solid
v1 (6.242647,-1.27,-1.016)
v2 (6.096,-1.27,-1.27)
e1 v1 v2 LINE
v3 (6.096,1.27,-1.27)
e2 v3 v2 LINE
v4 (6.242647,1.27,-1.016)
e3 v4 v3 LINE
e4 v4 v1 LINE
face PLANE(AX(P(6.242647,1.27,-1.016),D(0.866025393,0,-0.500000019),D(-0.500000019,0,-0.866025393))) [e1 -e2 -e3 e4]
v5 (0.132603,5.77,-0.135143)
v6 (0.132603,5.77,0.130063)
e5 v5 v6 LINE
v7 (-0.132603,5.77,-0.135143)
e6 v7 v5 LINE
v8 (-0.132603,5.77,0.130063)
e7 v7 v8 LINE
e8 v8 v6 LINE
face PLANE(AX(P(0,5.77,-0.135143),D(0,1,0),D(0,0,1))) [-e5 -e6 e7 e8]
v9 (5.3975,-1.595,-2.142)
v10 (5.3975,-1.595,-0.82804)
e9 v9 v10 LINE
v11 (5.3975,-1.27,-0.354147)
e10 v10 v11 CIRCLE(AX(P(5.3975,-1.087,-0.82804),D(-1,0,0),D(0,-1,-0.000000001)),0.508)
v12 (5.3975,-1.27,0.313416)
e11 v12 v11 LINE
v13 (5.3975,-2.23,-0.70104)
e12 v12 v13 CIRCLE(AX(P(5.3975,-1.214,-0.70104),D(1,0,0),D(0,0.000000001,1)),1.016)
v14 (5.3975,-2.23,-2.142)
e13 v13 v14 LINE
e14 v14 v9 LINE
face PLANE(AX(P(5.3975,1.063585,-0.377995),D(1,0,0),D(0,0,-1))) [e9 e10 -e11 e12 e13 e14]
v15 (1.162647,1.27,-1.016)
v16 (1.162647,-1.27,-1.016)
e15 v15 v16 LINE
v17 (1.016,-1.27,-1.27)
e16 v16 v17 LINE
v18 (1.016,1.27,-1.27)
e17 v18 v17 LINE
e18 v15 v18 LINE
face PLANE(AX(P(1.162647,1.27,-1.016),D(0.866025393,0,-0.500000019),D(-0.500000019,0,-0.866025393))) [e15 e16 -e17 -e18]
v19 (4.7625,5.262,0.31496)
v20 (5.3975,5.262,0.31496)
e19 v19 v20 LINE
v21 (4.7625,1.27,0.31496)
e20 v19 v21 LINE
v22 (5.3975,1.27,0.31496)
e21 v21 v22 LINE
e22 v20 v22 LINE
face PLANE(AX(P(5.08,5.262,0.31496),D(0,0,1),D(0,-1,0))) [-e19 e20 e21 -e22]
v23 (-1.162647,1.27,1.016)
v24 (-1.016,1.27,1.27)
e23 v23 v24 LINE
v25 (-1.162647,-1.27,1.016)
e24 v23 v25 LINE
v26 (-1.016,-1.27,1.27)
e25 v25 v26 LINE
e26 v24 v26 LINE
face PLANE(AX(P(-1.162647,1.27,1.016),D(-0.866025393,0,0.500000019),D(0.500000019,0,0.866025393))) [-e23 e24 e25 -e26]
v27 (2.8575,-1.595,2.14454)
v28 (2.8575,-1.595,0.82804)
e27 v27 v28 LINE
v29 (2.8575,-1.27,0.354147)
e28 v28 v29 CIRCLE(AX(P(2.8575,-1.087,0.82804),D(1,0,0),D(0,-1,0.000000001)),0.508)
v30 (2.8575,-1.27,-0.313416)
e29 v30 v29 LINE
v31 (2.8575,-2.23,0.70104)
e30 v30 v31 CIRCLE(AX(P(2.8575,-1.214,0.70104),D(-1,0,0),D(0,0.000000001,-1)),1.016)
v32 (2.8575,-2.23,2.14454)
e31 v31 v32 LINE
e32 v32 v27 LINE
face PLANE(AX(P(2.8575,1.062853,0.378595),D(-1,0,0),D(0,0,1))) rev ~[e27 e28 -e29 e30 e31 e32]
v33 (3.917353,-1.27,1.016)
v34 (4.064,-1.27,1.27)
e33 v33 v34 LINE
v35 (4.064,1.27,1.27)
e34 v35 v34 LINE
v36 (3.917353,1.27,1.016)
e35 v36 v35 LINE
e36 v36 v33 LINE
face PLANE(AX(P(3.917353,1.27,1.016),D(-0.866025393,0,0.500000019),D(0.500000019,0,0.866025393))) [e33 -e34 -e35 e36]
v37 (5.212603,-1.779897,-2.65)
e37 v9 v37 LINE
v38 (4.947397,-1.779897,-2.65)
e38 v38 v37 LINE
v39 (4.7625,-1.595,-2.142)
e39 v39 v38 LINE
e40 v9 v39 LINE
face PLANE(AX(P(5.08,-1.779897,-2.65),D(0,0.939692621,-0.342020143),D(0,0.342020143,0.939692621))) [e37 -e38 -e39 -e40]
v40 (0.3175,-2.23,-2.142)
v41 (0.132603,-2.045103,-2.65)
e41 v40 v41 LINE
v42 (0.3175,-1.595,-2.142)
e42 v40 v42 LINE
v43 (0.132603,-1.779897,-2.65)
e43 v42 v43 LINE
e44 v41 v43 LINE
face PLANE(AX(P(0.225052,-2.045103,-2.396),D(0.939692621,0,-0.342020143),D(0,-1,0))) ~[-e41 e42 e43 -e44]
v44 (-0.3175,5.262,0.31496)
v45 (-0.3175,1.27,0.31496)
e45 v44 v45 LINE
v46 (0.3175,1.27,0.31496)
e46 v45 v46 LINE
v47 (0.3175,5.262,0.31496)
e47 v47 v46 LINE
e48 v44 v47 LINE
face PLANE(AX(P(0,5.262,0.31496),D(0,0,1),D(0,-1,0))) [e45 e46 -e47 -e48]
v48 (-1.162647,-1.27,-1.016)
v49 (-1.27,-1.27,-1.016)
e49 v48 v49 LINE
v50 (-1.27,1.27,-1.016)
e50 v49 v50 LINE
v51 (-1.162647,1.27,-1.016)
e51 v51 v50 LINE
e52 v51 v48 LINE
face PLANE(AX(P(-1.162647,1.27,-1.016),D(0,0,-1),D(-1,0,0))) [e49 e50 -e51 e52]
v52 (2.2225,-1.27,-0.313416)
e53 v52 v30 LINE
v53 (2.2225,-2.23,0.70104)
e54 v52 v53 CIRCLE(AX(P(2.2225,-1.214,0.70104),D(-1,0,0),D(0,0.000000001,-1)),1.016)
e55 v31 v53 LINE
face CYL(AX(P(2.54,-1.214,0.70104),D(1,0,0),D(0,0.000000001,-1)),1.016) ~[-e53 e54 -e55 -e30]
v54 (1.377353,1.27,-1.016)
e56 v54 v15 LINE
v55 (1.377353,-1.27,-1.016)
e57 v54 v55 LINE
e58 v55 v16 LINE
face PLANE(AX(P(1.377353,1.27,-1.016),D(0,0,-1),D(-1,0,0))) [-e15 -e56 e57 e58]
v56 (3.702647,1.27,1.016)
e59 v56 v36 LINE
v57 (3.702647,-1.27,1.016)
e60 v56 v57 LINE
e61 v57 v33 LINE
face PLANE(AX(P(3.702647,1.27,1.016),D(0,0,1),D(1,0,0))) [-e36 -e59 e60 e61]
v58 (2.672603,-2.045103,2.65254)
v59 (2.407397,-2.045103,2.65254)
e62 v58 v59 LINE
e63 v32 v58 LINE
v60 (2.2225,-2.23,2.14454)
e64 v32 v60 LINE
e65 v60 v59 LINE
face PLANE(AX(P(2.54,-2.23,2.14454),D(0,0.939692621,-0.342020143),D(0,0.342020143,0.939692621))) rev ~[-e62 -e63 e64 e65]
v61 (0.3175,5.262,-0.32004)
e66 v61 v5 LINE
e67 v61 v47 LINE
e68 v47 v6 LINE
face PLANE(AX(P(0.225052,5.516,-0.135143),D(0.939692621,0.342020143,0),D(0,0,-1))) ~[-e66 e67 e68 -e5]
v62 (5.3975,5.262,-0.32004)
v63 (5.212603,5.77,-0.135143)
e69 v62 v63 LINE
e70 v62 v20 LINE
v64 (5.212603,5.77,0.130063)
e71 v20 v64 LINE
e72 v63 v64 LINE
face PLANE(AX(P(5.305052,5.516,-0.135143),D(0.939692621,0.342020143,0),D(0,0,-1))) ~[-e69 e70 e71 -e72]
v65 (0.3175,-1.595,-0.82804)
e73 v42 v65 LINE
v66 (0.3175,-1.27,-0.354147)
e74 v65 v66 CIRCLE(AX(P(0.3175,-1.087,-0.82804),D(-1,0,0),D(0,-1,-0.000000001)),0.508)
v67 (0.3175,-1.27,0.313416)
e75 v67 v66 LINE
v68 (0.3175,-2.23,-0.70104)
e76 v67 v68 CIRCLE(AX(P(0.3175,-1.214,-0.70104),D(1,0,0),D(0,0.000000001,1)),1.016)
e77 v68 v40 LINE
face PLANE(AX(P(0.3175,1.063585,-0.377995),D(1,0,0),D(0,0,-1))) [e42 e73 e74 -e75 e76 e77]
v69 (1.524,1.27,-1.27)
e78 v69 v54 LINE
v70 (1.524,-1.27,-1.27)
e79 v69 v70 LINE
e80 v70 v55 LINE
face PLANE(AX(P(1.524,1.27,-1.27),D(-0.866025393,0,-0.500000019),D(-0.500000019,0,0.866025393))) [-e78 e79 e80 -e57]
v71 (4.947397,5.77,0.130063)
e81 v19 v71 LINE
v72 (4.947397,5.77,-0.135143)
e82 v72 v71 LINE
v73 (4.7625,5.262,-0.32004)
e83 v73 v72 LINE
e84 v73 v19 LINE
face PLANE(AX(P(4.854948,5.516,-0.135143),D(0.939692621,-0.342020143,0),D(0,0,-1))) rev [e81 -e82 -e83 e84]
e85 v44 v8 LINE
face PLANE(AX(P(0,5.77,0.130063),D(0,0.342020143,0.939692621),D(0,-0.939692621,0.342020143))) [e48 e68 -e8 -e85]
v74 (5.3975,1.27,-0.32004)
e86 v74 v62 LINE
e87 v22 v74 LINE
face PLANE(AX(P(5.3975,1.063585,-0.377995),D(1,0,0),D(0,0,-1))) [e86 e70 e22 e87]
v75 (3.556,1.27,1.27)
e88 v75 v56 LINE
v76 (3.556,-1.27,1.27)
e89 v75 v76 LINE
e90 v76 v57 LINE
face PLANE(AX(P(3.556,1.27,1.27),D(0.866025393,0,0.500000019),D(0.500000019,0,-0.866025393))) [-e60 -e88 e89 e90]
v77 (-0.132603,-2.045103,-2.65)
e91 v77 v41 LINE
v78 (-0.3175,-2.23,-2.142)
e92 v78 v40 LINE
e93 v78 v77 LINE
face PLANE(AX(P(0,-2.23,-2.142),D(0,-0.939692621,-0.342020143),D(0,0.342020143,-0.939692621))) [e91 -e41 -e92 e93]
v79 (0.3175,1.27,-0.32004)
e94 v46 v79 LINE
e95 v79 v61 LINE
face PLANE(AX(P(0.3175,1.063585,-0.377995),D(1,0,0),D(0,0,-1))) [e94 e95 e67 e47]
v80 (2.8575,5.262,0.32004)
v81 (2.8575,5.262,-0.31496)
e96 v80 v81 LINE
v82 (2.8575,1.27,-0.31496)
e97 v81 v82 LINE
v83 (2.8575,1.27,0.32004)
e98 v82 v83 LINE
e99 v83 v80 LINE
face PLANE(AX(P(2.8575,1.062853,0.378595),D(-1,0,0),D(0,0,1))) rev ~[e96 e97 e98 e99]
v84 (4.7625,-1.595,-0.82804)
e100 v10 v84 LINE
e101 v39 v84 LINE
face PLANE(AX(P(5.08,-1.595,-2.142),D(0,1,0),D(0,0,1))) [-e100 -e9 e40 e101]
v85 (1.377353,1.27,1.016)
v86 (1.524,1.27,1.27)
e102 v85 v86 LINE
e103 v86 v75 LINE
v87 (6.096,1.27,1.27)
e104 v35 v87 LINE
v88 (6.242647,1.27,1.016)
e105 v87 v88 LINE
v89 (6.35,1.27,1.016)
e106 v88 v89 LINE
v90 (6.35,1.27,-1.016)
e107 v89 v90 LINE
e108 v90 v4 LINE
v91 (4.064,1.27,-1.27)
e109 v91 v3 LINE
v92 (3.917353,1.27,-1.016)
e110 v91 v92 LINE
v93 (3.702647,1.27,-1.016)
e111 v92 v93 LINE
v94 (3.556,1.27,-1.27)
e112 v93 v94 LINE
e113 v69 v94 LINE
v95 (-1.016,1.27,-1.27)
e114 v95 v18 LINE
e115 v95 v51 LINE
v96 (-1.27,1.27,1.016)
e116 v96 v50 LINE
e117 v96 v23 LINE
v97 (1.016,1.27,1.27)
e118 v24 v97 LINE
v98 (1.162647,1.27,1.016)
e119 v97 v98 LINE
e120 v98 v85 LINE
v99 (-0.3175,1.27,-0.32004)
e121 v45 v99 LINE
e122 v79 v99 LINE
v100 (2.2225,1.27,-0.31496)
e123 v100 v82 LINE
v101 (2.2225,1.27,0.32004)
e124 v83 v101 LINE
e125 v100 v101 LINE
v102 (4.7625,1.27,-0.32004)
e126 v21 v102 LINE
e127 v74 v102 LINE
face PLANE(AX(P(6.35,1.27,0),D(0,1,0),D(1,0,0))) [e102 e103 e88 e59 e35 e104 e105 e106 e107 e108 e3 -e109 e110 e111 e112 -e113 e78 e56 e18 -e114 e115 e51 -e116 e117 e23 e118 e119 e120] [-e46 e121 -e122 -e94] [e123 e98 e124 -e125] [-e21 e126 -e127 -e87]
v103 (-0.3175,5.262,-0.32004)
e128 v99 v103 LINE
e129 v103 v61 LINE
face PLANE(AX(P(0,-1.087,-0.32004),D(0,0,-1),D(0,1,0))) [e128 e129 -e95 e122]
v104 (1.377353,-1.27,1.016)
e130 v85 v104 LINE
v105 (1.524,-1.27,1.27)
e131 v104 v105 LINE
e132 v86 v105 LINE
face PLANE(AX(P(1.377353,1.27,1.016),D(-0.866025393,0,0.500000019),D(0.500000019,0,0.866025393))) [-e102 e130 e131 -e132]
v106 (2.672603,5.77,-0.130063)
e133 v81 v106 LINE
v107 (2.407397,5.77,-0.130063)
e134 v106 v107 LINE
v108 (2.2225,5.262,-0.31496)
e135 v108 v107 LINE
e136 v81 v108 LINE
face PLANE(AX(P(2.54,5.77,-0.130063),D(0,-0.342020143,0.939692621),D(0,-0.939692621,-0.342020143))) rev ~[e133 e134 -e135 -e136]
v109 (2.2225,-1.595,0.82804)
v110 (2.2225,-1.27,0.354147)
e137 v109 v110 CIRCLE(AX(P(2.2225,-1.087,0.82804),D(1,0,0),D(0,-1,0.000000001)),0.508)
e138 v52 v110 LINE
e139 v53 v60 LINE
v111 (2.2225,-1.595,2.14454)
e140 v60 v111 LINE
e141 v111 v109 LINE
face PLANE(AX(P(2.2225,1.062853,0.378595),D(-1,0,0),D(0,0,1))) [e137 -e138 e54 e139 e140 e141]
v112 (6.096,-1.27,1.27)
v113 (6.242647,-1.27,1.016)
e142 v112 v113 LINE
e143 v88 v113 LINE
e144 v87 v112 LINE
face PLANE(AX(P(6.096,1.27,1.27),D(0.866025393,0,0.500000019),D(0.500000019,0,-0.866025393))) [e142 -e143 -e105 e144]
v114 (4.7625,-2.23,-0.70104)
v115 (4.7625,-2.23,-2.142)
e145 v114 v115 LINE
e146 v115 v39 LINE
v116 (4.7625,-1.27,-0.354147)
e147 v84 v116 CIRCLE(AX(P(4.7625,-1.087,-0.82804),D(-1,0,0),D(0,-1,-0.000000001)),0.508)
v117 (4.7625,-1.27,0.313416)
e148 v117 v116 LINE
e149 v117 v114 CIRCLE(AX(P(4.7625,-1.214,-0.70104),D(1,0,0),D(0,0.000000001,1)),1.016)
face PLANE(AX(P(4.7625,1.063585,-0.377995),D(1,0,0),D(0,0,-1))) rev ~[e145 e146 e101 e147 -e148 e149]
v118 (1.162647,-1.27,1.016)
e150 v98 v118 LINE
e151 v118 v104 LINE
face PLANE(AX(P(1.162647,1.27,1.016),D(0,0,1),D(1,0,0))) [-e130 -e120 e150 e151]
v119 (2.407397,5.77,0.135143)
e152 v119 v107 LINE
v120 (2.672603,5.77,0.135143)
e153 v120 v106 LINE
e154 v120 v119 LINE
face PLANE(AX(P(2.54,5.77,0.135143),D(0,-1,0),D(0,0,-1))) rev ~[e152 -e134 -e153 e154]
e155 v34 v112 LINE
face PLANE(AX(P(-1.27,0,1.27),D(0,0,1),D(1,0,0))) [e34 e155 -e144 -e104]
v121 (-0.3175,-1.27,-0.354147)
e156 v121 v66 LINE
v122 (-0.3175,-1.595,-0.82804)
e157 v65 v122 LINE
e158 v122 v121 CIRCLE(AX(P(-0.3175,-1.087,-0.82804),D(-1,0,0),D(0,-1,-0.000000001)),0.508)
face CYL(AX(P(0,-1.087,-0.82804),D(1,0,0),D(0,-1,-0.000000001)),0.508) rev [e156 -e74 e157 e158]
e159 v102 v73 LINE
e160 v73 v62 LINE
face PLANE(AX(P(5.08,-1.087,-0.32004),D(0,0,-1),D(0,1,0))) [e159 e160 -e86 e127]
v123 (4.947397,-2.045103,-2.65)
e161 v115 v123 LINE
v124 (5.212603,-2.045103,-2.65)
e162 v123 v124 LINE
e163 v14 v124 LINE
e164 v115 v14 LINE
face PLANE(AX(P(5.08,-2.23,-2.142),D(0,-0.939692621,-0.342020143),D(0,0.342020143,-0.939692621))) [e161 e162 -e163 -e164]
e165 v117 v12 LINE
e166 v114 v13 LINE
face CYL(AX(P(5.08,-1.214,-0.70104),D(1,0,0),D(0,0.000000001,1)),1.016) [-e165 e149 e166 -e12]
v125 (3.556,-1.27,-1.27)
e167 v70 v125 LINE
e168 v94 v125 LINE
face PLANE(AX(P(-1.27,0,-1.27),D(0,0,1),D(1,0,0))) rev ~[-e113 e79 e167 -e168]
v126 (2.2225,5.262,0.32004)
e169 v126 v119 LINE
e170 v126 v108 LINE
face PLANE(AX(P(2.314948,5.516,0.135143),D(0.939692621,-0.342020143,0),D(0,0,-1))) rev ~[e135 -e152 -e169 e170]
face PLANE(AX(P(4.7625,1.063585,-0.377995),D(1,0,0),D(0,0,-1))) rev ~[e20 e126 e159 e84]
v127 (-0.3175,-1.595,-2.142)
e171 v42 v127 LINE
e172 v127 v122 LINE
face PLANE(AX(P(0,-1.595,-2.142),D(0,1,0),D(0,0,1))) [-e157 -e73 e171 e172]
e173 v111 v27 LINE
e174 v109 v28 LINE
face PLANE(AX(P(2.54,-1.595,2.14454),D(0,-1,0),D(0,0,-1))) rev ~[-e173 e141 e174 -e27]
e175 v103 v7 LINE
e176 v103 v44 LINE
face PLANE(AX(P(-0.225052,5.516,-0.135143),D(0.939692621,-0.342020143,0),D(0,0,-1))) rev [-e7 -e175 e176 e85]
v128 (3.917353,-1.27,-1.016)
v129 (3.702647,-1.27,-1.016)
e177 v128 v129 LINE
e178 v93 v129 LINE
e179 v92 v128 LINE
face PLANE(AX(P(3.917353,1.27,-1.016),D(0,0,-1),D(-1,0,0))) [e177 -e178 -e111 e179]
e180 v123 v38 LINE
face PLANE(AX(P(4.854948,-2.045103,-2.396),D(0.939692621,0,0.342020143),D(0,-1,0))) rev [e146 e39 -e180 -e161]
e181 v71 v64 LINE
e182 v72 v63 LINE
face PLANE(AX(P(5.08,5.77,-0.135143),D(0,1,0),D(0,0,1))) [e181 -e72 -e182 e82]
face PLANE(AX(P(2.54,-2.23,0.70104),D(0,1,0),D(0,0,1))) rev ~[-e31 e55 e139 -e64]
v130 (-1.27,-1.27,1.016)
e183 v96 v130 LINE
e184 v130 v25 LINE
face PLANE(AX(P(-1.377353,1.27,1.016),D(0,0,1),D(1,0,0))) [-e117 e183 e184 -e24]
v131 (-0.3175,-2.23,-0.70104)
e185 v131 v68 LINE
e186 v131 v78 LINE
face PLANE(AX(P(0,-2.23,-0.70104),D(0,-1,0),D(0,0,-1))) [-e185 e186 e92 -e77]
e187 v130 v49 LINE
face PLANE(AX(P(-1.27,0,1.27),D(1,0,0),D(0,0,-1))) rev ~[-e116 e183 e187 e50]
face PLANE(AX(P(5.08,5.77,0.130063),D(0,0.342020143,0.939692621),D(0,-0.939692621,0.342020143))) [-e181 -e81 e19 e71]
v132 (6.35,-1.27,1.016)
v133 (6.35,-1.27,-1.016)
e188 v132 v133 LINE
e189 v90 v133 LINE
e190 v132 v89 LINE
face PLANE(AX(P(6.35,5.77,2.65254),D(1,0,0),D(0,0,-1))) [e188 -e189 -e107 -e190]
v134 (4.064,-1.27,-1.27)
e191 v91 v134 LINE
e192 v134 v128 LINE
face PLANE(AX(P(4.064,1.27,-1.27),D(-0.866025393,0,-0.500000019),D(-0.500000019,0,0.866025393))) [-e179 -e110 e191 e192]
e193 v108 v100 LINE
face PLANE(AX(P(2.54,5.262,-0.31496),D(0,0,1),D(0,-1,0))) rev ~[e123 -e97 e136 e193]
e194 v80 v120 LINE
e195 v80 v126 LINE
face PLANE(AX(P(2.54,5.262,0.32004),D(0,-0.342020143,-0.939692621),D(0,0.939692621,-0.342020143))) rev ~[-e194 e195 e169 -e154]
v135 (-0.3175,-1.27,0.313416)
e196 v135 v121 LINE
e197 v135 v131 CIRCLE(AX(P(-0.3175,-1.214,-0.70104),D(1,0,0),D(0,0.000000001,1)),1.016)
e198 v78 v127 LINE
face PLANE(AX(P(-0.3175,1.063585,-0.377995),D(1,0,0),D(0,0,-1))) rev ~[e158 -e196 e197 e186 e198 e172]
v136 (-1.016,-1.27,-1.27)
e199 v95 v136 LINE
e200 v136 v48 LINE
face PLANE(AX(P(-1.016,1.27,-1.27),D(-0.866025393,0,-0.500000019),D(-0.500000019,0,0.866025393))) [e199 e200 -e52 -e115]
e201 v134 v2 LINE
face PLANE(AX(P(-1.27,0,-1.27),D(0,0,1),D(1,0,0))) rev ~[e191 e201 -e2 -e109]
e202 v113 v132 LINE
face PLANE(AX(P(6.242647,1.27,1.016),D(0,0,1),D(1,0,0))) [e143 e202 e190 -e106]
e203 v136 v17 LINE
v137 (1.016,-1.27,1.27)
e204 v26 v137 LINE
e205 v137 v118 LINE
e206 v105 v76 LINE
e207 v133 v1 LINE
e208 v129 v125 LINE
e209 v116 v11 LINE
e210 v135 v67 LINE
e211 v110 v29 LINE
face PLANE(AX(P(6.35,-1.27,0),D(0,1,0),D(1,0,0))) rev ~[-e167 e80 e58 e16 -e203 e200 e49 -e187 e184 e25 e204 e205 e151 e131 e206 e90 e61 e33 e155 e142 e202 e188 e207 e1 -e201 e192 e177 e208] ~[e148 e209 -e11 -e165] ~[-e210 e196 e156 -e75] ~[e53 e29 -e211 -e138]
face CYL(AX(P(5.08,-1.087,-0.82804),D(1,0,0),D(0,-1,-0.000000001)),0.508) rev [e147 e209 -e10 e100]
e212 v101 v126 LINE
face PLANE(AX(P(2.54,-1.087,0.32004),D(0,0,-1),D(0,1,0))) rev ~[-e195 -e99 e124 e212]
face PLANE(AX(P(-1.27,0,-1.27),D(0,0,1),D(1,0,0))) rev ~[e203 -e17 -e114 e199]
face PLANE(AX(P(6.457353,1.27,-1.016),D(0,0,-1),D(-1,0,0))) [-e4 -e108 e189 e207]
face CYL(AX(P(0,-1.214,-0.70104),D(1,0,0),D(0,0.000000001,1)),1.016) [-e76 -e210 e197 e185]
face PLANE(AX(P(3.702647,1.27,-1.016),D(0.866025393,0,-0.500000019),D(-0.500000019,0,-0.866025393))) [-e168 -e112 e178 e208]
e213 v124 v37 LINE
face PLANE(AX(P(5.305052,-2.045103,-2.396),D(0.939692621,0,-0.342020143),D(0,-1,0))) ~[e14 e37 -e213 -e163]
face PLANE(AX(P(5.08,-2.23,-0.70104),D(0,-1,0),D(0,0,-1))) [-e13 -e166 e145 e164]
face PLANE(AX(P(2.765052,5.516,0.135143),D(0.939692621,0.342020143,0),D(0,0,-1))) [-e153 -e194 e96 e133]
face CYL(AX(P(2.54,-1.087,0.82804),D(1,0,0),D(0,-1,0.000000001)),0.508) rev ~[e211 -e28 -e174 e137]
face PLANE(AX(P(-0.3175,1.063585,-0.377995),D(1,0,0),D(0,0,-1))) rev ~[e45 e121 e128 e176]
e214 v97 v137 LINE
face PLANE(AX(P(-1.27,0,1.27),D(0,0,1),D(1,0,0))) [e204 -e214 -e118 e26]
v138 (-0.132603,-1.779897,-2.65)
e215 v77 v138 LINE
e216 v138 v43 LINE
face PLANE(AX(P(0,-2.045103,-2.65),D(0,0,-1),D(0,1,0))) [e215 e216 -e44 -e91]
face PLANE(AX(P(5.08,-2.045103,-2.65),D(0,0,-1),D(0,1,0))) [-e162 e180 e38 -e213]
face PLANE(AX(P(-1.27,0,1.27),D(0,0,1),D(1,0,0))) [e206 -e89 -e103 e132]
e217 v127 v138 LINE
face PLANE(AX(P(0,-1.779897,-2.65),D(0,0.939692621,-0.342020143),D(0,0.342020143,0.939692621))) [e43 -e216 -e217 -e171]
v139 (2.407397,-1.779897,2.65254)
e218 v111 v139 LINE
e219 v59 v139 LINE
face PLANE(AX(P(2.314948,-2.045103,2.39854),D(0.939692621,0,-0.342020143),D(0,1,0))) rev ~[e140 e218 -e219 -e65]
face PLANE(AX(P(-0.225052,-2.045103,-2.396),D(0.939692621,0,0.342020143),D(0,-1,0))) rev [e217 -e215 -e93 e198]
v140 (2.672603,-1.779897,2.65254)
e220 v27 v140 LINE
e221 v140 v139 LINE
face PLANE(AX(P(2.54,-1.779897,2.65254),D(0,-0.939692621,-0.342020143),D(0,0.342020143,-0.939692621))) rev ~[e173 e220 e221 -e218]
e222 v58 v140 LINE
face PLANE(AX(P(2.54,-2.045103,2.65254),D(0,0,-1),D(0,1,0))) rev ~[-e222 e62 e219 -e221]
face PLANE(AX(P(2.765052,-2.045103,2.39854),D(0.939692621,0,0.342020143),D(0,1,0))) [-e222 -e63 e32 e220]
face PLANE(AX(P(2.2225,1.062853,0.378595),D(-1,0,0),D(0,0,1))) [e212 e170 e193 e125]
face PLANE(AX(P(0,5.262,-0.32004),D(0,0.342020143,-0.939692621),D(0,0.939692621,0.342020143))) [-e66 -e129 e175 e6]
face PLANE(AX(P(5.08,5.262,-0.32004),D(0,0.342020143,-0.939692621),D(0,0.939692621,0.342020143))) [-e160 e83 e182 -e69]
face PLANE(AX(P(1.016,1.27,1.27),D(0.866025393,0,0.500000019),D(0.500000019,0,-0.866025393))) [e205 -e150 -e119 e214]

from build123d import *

# Parameters (mm, degrees)
SKETCH1_W                            = 15.24
SKETCH1_H                            = 2.54
BASE_EXTRUDE_DEPTH                   = 1.27
PIN_DEPTH                            = 0.3175
PIN_CHAMFER_SIZE2                    = 0.184896879
PIN_CHAMFER_SIZE                     = 0.508
PIN_PATTERN_COUNT                    = 3
PIN_PATTERN_PITCH                    = 5.08
PIN_CHAMFER_OF_PIN_PATTERN_SIZE2     = 0.184896879
PIN_CHAMFER_OF_PIN_PATTERN_SIZE      = 0.508
PIN_2_DEPTH                          = 0.3175
PIN_2_CHAMFER_SIZE2                  = 0.184896879
PIN_2_CHAMFER_SIZE                   = 0.508
PIN_2_PATTERN_COUNT                  = 3
PIN_2_PATTERN_PITCH                  = 5.08
PIN_2_CHAMFER_OF_PIN_2_PATTERN_SIZE2 = 0.184896879
PIN_2_CHAMFER_OF_PIN_2_PATTERN_SIZE  = 0.508
SV_CUT_DEPTH                         = 4.5
SV_CUT_PATTERN_COUNT                 = 5
SV_CUT_PATTERN_PITCH                 = 2.54
LPATTERN1_COUNT                      = 3
LPATTERN1_PITCH                      = 2.54
SKETCH16_W                           = 7.62
SKETCH16_H                           = 5.30254
CUT_EXTRUDE1_DEPTH                   = 9


with BuildPart() as part:
    # Sketch1 → Base Extrude (new body, symmetric)
    with BuildSketch(Plane(origin=(0, 0, 0), x_dir=(1, 0, 0), z_dir=(0, 1, 0))):
        with Locations((6.35, 0)):
            Rectangle(SKETCH1_W, SKETCH1_H)
    extrude(amount=BASE_EXTRUDE_DEPTH, both=True)

    # Sketch8 → Pin (add, symmetric)
    with BuildSketch(Plane(origin=(0, 0, 0), x_dir=(0, 0, -1), z_dir=(1, 0, 0))):
        with BuildLine():
            Line((0.32004, -1.087), (0.32004, 5.262))
            Line((0.32004, 5.262), (0.135143121, 5.77))
            Line((0.135143121, 5.77), (-0.130063121, 5.77))
            Line((-0.130063121, 5.77), (-0.31496, 5.262))
            Line((-0.31496, 5.262), (-0.31496, -1.214))
            ThreePointArc((-0.31496, -1.214), (-0.01738049, -1.93242049), (0.70104, -2.23))
            Line((0.70104, -2.23), (2.142, -2.23))
            Line((2.142, -2.23), (2.65, -2.045103121))
            Line((2.65, -2.045103121), (2.65, -1.779896879))
            Line((2.65, -1.779896879), (2.142, -1.595))
            Line((2.142, -1.595), (0.82804, -1.595))
            ThreePointArc((0.82804, -1.595), (0.468829755, -1.446210245), (0.32004, -1.087))
        make_face()
    pin = extrude(amount=PIN_DEPTH, both=True)

    # Pin Chamfer
    pin_chamfer_edges = [part.edges().sort_by_distance(p)[0] for p in [
        (0.3175, -1.9125, -2.65),
        (-0.3175, 5.77, -0.00254),
        (-0.3175, -1.9125, -2.65),
        (0.3175, 5.77, -0.00254),
    ]]
    chamfer(pin_chamfer_edges, length=PIN_CHAMFER_SIZE, length2=PIN_CHAMFER_SIZE2)

    # Pin Pattern: Pin ×3
    with Locations(*[(i * PIN_PATTERN_PITCH, 0, 0) for i in range(1, PIN_PATTERN_COUNT)]):
        add(pin)

    # Pin Chamfer of Pin Pattern
    pin_chamfer_of_pin_pattern_edges = [part.edges().sort_by_distance(p)[0] for p in [
        (5.3975, -1.9125, -2.65),
        (4.7625, 5.77, -0.00254),
        (4.7625, -1.9125, -2.65),
        (5.3975, 5.77, -0.00254),
        (10.4775, -1.9125, -2.65),
        (9.8425, 5.77, -0.00254),
        (9.8425, -1.9125, -2.65),
        (10.4775, 5.77, -0.00254),
    ]]
    chamfer(pin_chamfer_of_pin_pattern_edges, length=PIN_CHAMFER_OF_PIN_PATTERN_SIZE, length2=PIN_CHAMFER_OF_PIN_PATTERN_SIZE2)

    # Sketch9 → Pin 2 (add, symmetric)
    with BuildSketch(Plane(origin=(2.54, 0, 0), x_dir=(0, 0, -1), z_dir=(1, 0, 0))):
        with BuildLine():
            Line((-0.32004, -1.087), (-0.32004, 5.262))
            Line((-0.32004, 5.262), (-0.135143121, 5.77))
            Line((-0.135143121, 5.77), (0.130063121, 5.77))
            Line((0.130063121, 5.77), (0.31496, 5.262))
            Line((0.31496, 5.262), (0.31496, -1.214))
            ThreePointArc((0.31496, -1.214), (0.01738049, -1.93242049), (-0.70104, -2.23))
            Line((-0.70104, -2.23), (-2.14454, -2.23))
            Line((-2.14454, -2.23), (-2.65254, -2.045103121))
            Line((-2.65254, -2.045103121), (-2.65254, -1.779896879))
            Line((-2.65254, -1.779896879), (-2.14454, -1.595))
            Line((-2.14454, -1.595), (-0.82804, -1.595))
            ThreePointArc((-0.82804, -1.595), (-0.468829755, -1.446210245), (-0.32004, -1.087))
        make_face()
    pin_2 = extrude(amount=PIN_2_DEPTH, both=True)

    # Pin 2 Chamfer
    pin_2_chamfer_edges = [part.edges().sort_by_distance(p)[0] for p in [
        (2.8575, -1.9125, 2.65254),
        (2.2225, -1.9125, 2.65254),
        (2.2225, 5.77, 0.00254),
        (2.8575, 5.77, 0.00254),
    ]]
    chamfer(pin_2_chamfer_edges, length=PIN_2_CHAMFER_SIZE, length2=PIN_2_CHAMFER_SIZE2)

    # Pin 2 Pattern: Pin 2 ×3
    with Locations(*[(i * PIN_2_PATTERN_PITCH, 0, 0) for i in range(1, PIN_2_PATTERN_COUNT)]):
        add(pin_2)

    # Pin 2 Chamfer of Pin 2 Pattern
    pin_2_chamfer_of_pin_2_pattern_edges = [part.edges().sort_by_distance(p)[0] for p in [
        (7.9375, -1.9125, 2.65254),
        (7.3025, -1.9125, 2.65254),
        (7.3025, 5.77, 0.00254),
        (7.9375, 5.77, 0.00254),
        (13.0175, -1.9125, 2.65254),
        (12.3825, -1.9125, 2.65254),
        (12.3825, 5.77, 0.00254),
        (13.0175, 5.77, 0.00254),
    ]]
    chamfer(pin_2_chamfer_of_pin_2_pattern_edges, length=PIN_2_CHAMFER_OF_PIN_2_PATTERN_SIZE, length2=PIN_2_CHAMFER_OF_PIN_2_PATTERN_SIZE2)

    # Sketch15 → SV Cut (cut, through all)
    with BuildSketch(Plane(origin=(0, 1.27, 0), x_dir=(-1, 0, 0), z_dir=(0, 1, 0))):
        Polygon((-3.556, 1.27), (-3.702646976, 1.016), (-3.917353024, 1.016), (-4.064, 1.27), align=None)
        Polygon((-4.064, -1.27), (-3.917353024, -1.016), (-3.702646976, -1.016), (-3.556, -1.27), align=None)
    sv_cut = extrude(amount=-SV_CUT_DEPTH, mode=Mode.SUBTRACT)

    # SV Cut Pattern: SV Cut ×5
    with Locations(*[(i * SV_CUT_PATTERN_PITCH, 0, 0) for i in range(1, SV_CUT_PATTERN_COUNT)]):
        add(sv_cut, mode=Mode.SUBTRACT)

    # LPattern1: SV Cut ×3
    with Locations(*[(-i * LPATTERN1_PITCH, 0, 0) for i in range(1, LPATTERN1_COUNT)]):
        add(sv_cut, mode=Mode.SUBTRACT)

    # Sketch16 → Cut-Extrude1 (cut, through all)
    with BuildSketch(Plane(origin=(0, 5.77, 0), x_dir=(1, 0, 0), z_dir=(0, 1, 0))):
        with Locations((10.16, -0.00127)):
            Rectangle(SKETCH16_W, SKETCH16_H)
    extrude(amount=-CUT_EXTRUDE1_DEPTH, mode=Mode.SUBTRACT)


solid = part.part
